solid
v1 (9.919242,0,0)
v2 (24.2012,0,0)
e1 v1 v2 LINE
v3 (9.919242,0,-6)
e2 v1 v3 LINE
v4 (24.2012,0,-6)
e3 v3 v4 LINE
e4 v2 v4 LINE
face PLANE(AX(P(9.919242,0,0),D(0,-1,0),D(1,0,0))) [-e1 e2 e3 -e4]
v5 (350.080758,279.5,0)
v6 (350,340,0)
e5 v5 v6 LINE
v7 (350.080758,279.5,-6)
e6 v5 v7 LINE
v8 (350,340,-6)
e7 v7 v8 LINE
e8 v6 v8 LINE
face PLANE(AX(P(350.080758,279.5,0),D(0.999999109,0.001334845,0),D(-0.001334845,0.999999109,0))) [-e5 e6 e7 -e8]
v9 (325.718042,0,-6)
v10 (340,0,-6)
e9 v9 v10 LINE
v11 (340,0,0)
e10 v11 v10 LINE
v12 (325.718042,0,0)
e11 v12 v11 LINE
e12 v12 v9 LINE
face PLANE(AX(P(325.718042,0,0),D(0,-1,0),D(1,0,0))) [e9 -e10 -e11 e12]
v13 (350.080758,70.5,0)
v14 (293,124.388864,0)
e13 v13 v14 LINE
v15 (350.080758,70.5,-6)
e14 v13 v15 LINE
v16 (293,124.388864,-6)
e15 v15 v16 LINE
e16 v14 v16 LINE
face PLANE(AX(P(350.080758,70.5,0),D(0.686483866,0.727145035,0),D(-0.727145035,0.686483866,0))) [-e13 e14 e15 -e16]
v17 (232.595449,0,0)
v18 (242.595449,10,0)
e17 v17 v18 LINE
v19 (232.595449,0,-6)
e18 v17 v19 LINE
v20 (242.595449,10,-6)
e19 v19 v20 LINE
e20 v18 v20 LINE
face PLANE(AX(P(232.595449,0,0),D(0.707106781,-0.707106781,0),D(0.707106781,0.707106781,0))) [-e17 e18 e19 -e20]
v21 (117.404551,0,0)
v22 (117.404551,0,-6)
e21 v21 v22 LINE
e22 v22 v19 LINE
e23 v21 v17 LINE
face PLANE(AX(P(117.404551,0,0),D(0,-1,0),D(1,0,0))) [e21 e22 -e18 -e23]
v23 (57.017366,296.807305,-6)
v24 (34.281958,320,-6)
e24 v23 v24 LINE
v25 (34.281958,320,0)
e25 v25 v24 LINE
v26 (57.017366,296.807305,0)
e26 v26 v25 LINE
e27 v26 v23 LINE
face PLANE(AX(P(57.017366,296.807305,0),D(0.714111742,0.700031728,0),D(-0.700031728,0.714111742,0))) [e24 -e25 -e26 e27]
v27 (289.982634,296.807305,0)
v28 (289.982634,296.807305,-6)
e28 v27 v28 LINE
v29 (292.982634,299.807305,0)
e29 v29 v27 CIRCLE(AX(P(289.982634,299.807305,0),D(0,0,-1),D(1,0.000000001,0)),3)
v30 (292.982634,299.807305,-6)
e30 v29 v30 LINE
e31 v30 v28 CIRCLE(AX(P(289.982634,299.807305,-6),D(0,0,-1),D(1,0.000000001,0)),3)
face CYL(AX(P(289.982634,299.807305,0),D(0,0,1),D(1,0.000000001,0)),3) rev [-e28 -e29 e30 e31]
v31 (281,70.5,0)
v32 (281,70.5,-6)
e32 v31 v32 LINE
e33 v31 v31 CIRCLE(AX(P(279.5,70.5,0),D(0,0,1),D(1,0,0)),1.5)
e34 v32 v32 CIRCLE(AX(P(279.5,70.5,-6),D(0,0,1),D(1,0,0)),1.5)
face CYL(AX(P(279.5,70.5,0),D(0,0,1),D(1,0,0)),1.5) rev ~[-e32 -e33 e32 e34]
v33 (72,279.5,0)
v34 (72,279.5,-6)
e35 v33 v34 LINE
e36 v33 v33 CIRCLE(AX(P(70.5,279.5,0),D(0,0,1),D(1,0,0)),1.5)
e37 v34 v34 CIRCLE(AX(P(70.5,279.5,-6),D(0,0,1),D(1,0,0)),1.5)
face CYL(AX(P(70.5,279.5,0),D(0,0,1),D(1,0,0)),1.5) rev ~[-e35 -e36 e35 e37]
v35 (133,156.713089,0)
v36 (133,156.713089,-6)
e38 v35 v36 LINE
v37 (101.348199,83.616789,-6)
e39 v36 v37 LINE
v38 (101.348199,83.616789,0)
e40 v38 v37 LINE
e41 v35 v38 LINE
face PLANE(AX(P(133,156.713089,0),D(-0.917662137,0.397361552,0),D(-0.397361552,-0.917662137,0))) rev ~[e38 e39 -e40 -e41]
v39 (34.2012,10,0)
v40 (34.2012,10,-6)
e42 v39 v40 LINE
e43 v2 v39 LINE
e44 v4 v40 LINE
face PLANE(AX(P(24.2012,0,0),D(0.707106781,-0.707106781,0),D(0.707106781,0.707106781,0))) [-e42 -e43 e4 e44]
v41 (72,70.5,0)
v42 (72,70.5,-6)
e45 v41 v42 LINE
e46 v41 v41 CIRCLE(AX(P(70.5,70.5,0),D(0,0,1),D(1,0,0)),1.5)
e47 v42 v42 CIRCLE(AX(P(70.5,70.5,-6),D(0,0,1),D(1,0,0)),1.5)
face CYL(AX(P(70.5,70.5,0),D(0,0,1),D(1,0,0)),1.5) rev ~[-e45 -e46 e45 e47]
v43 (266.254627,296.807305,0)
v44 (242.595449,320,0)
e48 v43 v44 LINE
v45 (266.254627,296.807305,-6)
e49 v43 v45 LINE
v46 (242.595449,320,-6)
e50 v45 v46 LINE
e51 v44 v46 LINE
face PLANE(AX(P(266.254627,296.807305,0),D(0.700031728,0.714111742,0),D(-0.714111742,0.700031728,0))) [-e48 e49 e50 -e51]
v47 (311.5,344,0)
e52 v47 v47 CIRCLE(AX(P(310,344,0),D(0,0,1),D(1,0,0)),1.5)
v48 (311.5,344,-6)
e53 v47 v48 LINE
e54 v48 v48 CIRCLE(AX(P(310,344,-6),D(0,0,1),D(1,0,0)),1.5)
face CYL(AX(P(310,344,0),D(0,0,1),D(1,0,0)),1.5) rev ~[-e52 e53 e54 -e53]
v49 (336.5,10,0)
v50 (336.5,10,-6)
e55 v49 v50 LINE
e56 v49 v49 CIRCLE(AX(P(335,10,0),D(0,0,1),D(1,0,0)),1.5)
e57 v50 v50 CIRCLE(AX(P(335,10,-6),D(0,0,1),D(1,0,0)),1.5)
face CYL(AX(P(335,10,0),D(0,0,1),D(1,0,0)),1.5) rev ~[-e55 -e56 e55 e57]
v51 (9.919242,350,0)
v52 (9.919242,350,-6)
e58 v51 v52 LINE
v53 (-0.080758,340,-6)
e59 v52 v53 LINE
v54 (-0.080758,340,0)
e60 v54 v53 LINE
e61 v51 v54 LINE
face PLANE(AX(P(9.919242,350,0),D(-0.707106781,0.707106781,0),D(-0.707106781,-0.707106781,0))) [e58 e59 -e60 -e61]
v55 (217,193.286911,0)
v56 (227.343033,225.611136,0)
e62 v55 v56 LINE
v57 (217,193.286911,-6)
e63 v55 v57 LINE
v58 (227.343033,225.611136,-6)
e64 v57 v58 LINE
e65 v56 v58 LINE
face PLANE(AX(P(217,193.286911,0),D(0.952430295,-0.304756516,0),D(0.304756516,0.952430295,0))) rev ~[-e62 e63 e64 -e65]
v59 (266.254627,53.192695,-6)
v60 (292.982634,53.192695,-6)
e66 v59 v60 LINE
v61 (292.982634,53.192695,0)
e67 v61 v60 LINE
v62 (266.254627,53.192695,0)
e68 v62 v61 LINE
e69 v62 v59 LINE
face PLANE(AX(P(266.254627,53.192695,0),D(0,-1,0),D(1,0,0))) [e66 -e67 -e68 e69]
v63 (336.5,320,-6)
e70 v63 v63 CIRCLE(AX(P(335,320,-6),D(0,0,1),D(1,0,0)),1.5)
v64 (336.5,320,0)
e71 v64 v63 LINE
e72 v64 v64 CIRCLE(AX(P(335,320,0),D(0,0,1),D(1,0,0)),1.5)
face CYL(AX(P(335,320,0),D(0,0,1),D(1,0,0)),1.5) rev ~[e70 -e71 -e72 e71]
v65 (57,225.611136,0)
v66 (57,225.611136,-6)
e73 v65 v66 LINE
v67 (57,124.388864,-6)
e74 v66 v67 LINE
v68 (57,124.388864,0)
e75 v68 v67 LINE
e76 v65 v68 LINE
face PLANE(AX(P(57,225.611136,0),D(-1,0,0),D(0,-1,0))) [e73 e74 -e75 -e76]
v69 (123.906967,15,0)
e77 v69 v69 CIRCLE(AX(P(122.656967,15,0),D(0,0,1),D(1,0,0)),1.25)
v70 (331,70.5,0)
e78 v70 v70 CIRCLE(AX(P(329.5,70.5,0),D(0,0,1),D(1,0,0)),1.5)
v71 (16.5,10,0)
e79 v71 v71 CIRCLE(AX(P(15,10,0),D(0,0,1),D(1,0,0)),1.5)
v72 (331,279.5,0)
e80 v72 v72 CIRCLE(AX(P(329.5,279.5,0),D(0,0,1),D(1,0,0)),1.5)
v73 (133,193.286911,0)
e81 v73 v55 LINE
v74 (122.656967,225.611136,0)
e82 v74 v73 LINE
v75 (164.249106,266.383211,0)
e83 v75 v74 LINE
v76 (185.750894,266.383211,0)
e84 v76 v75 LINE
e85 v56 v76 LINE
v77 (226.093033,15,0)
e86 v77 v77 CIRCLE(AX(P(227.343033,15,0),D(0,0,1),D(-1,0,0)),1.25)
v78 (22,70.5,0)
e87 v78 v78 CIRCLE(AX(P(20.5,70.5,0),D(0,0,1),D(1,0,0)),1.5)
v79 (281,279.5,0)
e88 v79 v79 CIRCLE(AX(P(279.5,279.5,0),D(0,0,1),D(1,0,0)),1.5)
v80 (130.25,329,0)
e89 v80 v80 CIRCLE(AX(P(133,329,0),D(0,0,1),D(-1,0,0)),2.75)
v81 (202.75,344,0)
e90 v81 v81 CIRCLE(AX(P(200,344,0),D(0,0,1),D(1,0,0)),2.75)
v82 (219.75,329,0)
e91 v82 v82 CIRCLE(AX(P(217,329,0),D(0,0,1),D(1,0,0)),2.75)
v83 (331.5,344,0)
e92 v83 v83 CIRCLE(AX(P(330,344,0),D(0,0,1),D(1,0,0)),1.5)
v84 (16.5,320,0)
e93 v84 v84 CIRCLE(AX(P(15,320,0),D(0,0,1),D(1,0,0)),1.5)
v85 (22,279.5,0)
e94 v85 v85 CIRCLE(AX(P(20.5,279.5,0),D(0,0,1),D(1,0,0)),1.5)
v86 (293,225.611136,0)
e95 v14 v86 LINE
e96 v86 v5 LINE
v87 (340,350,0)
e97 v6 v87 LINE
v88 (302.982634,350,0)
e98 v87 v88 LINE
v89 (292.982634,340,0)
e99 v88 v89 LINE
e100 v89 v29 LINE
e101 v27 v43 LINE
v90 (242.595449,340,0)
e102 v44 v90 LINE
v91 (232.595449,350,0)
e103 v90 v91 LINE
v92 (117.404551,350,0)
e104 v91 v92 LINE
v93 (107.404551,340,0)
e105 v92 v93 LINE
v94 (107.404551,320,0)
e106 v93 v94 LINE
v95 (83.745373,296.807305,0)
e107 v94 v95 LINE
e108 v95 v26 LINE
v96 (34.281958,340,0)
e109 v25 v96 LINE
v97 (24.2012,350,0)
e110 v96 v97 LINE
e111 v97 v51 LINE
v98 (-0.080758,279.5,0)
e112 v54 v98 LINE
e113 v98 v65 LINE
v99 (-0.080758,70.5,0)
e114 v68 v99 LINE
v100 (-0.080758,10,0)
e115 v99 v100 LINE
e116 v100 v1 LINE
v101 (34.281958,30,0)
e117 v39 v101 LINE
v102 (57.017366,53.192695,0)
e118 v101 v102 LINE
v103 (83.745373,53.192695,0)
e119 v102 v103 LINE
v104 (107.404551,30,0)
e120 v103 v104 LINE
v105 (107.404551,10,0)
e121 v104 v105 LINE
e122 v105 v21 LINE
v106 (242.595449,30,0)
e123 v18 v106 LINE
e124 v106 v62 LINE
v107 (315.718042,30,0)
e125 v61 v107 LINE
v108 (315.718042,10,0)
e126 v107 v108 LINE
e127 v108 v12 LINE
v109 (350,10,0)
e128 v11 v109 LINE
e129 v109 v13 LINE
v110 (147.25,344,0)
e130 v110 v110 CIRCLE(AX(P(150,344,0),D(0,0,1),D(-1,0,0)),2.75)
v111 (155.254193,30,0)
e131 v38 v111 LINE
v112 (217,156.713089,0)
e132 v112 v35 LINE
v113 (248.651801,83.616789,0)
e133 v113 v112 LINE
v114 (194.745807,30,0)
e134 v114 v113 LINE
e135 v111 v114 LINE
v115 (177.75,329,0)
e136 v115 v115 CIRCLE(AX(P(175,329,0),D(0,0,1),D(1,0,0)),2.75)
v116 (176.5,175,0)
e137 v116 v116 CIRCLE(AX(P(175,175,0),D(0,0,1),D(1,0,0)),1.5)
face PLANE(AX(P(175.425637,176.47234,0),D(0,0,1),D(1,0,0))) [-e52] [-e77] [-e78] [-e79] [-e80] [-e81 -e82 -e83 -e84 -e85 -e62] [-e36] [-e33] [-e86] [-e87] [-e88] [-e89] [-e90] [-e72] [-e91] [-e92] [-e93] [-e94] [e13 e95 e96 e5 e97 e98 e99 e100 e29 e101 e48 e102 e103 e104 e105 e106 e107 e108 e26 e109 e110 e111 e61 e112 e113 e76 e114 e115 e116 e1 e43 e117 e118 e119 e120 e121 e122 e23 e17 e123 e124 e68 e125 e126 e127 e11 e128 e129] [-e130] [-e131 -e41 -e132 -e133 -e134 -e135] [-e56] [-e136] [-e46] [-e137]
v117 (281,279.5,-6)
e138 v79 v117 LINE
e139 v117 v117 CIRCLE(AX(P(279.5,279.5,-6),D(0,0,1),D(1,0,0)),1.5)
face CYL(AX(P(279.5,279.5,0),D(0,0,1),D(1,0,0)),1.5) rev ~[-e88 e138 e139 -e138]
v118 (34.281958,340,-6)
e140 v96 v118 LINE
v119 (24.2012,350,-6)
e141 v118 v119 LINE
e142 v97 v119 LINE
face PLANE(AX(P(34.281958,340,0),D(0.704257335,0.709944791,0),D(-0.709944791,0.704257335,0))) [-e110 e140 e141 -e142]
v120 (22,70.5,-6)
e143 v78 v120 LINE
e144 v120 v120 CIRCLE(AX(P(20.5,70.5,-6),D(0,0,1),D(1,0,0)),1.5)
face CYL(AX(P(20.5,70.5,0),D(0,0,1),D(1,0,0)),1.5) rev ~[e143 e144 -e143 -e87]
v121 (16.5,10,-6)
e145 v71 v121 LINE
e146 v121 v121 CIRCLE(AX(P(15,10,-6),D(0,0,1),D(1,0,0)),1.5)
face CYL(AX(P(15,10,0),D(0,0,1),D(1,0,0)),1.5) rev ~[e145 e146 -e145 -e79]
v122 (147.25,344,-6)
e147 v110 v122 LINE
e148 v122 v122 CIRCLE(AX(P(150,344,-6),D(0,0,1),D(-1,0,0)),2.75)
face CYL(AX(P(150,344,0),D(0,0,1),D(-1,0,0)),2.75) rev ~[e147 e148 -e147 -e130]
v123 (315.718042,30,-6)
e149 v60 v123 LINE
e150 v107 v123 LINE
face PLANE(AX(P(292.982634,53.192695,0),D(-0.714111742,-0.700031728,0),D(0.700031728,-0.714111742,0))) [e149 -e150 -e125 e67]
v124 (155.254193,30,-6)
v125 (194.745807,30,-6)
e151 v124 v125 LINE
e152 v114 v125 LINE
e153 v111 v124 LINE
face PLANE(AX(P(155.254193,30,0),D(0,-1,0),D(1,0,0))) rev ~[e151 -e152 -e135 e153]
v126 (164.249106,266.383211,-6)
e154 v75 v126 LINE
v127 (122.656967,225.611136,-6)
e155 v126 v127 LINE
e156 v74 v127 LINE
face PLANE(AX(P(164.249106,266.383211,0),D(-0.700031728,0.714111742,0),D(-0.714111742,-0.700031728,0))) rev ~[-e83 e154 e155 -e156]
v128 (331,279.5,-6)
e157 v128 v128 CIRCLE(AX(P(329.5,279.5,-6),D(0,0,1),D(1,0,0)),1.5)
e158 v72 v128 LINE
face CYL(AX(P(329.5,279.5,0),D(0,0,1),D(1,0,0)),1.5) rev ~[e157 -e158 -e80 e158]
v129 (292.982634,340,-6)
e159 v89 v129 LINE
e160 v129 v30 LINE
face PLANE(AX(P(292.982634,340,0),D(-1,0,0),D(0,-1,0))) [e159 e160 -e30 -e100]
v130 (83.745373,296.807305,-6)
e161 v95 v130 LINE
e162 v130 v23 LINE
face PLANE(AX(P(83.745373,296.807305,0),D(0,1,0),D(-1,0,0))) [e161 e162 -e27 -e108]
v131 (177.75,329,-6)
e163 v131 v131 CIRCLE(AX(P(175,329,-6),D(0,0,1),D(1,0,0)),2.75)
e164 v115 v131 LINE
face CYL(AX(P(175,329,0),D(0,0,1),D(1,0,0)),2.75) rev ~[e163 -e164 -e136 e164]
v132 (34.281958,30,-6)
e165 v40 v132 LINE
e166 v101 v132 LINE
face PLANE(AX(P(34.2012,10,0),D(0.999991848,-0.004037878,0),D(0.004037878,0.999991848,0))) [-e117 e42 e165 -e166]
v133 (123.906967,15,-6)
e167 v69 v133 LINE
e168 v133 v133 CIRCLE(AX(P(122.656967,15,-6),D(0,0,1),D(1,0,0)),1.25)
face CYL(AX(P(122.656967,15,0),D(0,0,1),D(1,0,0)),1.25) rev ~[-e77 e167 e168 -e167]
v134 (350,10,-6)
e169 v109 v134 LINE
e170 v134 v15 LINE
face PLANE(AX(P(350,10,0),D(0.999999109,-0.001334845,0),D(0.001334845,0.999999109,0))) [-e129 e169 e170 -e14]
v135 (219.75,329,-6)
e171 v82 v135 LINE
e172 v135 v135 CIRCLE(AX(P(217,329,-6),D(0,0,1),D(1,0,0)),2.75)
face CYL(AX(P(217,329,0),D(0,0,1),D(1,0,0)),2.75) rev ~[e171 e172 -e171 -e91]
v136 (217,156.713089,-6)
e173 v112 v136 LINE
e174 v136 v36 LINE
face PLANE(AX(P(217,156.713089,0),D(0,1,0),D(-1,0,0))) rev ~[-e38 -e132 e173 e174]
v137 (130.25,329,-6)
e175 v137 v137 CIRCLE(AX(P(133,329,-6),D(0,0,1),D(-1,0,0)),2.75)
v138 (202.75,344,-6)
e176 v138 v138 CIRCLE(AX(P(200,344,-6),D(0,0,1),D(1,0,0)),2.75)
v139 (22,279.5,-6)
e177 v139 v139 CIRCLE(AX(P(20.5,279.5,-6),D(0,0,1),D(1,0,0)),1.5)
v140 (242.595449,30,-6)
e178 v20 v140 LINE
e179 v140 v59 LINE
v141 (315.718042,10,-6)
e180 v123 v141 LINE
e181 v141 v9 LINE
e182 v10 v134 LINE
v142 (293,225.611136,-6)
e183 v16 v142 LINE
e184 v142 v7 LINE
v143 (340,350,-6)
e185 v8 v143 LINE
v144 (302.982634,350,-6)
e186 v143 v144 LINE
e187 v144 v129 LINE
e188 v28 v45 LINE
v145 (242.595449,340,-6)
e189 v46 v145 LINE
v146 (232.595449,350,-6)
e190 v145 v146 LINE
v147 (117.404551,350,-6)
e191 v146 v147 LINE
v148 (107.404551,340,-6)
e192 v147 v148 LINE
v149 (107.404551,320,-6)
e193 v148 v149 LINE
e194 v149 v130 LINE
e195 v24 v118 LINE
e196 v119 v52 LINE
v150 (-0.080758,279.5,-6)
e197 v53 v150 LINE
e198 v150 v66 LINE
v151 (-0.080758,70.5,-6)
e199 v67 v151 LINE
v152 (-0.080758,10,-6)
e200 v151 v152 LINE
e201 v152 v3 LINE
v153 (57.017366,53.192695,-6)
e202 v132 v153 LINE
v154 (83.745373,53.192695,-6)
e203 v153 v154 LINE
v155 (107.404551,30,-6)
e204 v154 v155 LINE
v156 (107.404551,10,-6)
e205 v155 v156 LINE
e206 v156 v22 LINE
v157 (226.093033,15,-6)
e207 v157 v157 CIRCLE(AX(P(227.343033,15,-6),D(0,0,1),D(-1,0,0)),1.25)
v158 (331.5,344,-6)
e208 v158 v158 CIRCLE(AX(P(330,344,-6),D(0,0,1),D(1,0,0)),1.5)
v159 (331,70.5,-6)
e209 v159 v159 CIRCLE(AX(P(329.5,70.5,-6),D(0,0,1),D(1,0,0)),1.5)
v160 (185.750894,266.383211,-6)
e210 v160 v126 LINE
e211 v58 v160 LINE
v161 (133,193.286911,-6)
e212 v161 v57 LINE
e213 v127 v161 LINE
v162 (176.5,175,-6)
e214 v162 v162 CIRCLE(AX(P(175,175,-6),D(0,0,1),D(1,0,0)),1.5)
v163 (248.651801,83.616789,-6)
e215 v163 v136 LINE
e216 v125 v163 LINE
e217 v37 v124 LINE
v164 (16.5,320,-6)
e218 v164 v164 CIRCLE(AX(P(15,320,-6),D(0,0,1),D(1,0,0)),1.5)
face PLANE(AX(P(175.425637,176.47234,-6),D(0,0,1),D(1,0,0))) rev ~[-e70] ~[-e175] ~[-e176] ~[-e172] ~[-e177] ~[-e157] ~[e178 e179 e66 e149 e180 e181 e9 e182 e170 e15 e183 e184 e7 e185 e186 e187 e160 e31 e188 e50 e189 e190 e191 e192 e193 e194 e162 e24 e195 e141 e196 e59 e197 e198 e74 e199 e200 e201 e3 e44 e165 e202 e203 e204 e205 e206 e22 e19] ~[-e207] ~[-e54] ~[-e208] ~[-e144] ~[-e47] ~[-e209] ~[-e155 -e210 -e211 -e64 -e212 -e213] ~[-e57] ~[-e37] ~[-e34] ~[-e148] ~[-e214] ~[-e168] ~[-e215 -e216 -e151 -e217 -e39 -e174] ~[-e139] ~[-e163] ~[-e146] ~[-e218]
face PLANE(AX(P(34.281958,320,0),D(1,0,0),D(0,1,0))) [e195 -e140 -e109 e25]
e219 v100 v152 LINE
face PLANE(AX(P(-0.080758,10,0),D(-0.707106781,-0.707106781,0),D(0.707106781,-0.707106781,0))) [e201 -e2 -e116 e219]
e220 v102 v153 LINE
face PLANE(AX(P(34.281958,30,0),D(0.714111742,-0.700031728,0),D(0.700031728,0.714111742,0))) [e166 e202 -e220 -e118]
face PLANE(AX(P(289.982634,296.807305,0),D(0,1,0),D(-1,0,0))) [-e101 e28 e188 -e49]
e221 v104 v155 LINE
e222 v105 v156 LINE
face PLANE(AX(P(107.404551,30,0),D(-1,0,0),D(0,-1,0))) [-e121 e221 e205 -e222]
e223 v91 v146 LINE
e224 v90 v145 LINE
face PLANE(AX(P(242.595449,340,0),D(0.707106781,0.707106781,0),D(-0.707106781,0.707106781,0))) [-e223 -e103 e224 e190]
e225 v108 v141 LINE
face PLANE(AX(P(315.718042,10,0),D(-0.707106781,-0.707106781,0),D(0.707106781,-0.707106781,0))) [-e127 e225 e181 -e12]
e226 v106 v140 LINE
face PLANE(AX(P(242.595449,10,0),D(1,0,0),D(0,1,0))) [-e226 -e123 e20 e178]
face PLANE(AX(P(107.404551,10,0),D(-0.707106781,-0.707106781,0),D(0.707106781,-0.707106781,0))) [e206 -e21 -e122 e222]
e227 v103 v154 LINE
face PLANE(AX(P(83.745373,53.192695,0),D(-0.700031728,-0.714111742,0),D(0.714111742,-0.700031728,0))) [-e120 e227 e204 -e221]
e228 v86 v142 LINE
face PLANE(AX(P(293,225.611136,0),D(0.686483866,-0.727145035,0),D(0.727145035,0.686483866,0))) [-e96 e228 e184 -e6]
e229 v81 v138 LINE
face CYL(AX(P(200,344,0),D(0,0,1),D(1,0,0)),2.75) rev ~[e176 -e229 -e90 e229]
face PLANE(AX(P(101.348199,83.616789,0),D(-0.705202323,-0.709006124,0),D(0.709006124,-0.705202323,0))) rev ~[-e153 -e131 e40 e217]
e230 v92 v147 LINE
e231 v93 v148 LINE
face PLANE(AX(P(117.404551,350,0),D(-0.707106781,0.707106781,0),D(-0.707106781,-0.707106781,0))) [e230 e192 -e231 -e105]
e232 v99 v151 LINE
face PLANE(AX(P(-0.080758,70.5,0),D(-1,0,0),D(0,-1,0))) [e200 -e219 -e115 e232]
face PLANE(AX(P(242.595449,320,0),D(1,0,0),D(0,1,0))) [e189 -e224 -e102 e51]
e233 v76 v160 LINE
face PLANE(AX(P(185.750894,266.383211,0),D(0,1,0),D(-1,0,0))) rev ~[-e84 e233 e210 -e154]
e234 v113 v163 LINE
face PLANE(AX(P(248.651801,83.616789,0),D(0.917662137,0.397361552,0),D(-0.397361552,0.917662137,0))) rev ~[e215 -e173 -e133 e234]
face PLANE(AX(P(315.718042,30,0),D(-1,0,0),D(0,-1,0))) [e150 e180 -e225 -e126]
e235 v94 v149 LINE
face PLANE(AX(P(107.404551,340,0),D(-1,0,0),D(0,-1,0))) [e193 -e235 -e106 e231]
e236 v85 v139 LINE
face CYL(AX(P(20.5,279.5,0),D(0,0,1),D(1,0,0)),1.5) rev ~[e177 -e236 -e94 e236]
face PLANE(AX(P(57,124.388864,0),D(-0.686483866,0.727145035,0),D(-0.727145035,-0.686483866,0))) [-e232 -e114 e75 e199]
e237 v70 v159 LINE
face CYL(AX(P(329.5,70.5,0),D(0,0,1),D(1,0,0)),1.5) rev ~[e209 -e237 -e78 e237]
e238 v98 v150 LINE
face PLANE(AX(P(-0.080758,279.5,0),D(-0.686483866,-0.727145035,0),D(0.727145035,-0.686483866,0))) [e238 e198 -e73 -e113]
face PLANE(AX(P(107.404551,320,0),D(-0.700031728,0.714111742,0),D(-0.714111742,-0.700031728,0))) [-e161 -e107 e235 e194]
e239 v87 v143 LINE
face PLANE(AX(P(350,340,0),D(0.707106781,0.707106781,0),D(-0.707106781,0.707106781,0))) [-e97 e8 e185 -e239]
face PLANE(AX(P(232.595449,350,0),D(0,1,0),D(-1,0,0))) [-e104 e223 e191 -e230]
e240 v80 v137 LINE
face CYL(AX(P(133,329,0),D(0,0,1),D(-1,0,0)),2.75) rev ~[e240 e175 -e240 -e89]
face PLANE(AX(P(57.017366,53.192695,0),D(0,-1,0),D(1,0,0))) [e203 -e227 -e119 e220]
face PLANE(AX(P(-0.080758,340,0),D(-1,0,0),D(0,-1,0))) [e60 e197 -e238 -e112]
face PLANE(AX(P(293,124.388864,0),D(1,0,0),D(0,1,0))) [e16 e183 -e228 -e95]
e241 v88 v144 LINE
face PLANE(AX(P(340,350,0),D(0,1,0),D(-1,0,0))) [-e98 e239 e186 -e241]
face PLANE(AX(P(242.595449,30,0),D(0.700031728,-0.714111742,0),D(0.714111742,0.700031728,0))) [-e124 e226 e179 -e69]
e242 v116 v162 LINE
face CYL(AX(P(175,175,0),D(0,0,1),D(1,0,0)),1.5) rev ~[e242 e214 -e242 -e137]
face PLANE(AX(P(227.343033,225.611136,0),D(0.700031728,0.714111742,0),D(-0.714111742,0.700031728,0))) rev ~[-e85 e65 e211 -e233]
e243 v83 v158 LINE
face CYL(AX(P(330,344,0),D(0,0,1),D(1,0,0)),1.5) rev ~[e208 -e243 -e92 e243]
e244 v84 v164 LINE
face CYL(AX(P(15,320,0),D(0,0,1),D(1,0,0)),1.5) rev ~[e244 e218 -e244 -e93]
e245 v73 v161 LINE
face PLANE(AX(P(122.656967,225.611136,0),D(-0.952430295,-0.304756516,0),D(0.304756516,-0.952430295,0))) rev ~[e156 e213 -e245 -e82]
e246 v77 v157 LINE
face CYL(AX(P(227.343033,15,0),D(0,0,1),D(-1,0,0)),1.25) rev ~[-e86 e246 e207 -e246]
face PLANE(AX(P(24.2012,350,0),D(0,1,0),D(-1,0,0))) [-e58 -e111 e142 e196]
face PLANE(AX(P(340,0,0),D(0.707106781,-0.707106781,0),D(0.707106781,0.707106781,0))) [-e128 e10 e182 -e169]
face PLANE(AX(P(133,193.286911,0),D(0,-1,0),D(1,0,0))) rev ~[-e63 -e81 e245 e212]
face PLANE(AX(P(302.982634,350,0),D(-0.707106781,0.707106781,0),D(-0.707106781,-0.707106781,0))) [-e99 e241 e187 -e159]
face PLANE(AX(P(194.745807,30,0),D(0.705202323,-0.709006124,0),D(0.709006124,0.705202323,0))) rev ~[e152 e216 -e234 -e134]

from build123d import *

# Parameters (mm, degrees)
SCHIZZO13_R                  = 1.5
SCHIZZO13_R_2                = 2.75
SCHIZZO13_R_3                = 1.25
ESTRUSIONE_ESTRUSIONE2_DEPTH = 6


with BuildPart() as part:
    # Schizzo13 → Estrusione-Estrusione2 (new body)
    with BuildSketch(Plane.XY):
        with BuildLine():
            Line((9.919241786, 0), (24.201199756, 0))
            Line((24.201199756, 0), (34.201199756, 10))
            Line((34.201199756, 10), (34.28195797, 30))
            Line((34.28195797, 30), (57.017366293, 53.192694567))
            Line((57.017366293, 53.192694567), (83.745372993, 53.192694567))
            Line((83.745372993, 53.192694567), (107.404551383, 30))
            Line((107.404551383, 30), (107.404551383, 10))
            Line((107.404551383, 10), (117.404551383, 0))
            Line((117.404551383, 0), (232.595448617, 0))
            Line((232.595448617, 0), (242.595448617, 10))
            Line((242.595448617, 10), (242.595448617, 30))
            Line((242.595448617, 30), (266.254627007, 53.192694567))
            Line((266.254627007, 53.192694567), (292.982633707, 53.192694567))
            Line((292.982633707, 53.192694567), (315.71804203, 30))
            Line((315.71804203, 30), (315.71804203, 10))
            Line((315.71804203, 10), (325.71804203, 0))
            Line((325.71804203, 0), (340, 0))
            Line((340, 0), (350, 10))
            Line((350, 10), (350.080758214, 70.5))
            Line((350.080758214, 70.5), (293, 124.388863529))
            Line((293, 124.388863529), (293, 225.611136471))
            Line((293, 225.611136471), (350.080758214, 279.5))
            Line((350.080758214, 279.5), (350, 340))
            Line((350, 340), (340, 350))
            Line((340, 350), (302.982633707, 350))
            Line((302.982633707, 350), (292.982633707, 340))
            Line((292.982633707, 340), (292.982633707, 299.807305433))
            ThreePointArc((292.982633707, 299.807305433), (292.103954051, 297.685985089), (289.982633707, 296.807305433))
            Line((289.982633707, 296.807305433), (266.254627007, 296.807305433))
            Line((266.254627007, 296.807305433), (242.595448617, 320))
            Line((242.595448617, 320), (242.595448617, 340))
            Line((242.595448617, 340), (232.595448617, 350))
            Line((232.595448617, 350), (117.404551383, 350))
            Line((117.404551383, 350), (107.404551383, 340))
            Line((107.404551383, 340), (107.404551383, 320))
            Line((107.404551383, 320), (83.745372993, 296.807305433))
            Line((83.745372993, 296.807305433), (57.017366293, 296.807305433))
            Line((57.017366293, 296.807305433), (34.28195797, 320))
            Line((34.28195797, 320), (34.28195797, 340))
            Line((34.28195797, 340), (24.201199756, 350))
            Line((24.201199756, 350), (9.919241786, 350))
            Line((9.919241786, 350), (-0.080758214, 340))
            Line((-0.080758214, 340), (-0.080758214, 279.5))
            Line((-0.080758214, 279.5), (57, 225.611136471))
            Line((57, 225.611136471), (57, 175))
            Line((57, 175), (57, 124.388863529))
            Line((57, 124.388863529), (-0.080758214, 70.5))
            Line((-0.080758214, 70.5), (-0.080758214, 10))
            Line((-0.080758214, 10), (9.919241786, 0))
        make_face()
        with Locations((15, 320)):
            Circle(SCHIZZO13_R, mode=Mode.SUBTRACT)
        with Locations((20.5, 279.5)):
            Circle(SCHIZZO13_R, mode=Mode.SUBTRACT)
        with Locations((70.5, 279.5)):
            Circle(SCHIZZO13_R, mode=Mode.SUBTRACT)
        with Locations((175, 175)):
            Circle(SCHIZZO13_R, mode=Mode.SUBTRACT)
        with Locations((20.5, 70.5)):
            Circle(SCHIZZO13_R, mode=Mode.SUBTRACT)
        with Locations((200, 344)):
            Circle(SCHIZZO13_R_2, mode=Mode.SUBTRACT)
        with Locations(Location((150, 344, 0), (0, 0, 180))):
            Circle(SCHIZZO13_R_2, mode=Mode.SUBTRACT)
        with Locations((175, 329)):
            Circle(SCHIZZO13_R_2, mode=Mode.SUBTRACT)
        with Locations((217, 329)):
            Circle(SCHIZZO13_R_2, mode=Mode.SUBTRACT)
        with Locations(Location((133, 329, 0), (0, 0, 180))):
            Circle(SCHIZZO13_R_2, mode=Mode.SUBTRACT)
        with Locations((70.5, 70.5)):
            Circle(SCHIZZO13_R, mode=Mode.SUBTRACT)
        with Locations((279.5, 70.5)):
            Circle(SCHIZZO13_R, mode=Mode.SUBTRACT)
        with Locations((329.5, 70.5)):
            Circle(SCHIZZO13_R, mode=Mode.SUBTRACT)
        with Locations((335, 10)):
            Circle(SCHIZZO13_R, mode=Mode.SUBTRACT)
        with Locations((15, 10)):
            Circle(SCHIZZO13_R, mode=Mode.SUBTRACT)
        with Locations((279.5, 279.5)):
            Circle(SCHIZZO13_R, mode=Mode.SUBTRACT)
        with Locations((329.5, 279.5)):
            Circle(SCHIZZO13_R, mode=Mode.SUBTRACT)
        with Locations((335, 320)):
            Circle(SCHIZZO13_R, mode=Mode.SUBTRACT)
        with Locations((310, 344)):
            Circle(SCHIZZO13_R, mode=Mode.SUBTRACT)
        with Locations((330, 344)):
            Circle(SCHIZZO13_R, mode=Mode.SUBTRACT)
        with Locations((122.656966622, 15)):
            Circle(SCHIZZO13_R_3, mode=Mode.SUBTRACT)
        with Locations(Location((227.343033378, 15, 0), (0, 0, 180))):
            Circle(SCHIZZO13_R_3, mode=Mode.SUBTRACT)
        Polygon((217, 193.286910978), (227.343033378, 225.611136471), (185.750894453, 266.383210572), (164.249105547, 266.383210572), (122.656966622, 225.611136471), (133, 193.286910978), align=None, mode=Mode.SUBTRACT)
        Polygon((133, 156.713089022), (101.348199345, 83.616789428), (155.254193112, 30), (194.745806888, 30), (248.651800655, 83.616789428), (217, 156.713089022), align=None, mode=Mode.SUBTRACT)
    extrude(amount=-ESTRUSIONE_ESTRUSIONE2_DEPTH)


solid = part.part
